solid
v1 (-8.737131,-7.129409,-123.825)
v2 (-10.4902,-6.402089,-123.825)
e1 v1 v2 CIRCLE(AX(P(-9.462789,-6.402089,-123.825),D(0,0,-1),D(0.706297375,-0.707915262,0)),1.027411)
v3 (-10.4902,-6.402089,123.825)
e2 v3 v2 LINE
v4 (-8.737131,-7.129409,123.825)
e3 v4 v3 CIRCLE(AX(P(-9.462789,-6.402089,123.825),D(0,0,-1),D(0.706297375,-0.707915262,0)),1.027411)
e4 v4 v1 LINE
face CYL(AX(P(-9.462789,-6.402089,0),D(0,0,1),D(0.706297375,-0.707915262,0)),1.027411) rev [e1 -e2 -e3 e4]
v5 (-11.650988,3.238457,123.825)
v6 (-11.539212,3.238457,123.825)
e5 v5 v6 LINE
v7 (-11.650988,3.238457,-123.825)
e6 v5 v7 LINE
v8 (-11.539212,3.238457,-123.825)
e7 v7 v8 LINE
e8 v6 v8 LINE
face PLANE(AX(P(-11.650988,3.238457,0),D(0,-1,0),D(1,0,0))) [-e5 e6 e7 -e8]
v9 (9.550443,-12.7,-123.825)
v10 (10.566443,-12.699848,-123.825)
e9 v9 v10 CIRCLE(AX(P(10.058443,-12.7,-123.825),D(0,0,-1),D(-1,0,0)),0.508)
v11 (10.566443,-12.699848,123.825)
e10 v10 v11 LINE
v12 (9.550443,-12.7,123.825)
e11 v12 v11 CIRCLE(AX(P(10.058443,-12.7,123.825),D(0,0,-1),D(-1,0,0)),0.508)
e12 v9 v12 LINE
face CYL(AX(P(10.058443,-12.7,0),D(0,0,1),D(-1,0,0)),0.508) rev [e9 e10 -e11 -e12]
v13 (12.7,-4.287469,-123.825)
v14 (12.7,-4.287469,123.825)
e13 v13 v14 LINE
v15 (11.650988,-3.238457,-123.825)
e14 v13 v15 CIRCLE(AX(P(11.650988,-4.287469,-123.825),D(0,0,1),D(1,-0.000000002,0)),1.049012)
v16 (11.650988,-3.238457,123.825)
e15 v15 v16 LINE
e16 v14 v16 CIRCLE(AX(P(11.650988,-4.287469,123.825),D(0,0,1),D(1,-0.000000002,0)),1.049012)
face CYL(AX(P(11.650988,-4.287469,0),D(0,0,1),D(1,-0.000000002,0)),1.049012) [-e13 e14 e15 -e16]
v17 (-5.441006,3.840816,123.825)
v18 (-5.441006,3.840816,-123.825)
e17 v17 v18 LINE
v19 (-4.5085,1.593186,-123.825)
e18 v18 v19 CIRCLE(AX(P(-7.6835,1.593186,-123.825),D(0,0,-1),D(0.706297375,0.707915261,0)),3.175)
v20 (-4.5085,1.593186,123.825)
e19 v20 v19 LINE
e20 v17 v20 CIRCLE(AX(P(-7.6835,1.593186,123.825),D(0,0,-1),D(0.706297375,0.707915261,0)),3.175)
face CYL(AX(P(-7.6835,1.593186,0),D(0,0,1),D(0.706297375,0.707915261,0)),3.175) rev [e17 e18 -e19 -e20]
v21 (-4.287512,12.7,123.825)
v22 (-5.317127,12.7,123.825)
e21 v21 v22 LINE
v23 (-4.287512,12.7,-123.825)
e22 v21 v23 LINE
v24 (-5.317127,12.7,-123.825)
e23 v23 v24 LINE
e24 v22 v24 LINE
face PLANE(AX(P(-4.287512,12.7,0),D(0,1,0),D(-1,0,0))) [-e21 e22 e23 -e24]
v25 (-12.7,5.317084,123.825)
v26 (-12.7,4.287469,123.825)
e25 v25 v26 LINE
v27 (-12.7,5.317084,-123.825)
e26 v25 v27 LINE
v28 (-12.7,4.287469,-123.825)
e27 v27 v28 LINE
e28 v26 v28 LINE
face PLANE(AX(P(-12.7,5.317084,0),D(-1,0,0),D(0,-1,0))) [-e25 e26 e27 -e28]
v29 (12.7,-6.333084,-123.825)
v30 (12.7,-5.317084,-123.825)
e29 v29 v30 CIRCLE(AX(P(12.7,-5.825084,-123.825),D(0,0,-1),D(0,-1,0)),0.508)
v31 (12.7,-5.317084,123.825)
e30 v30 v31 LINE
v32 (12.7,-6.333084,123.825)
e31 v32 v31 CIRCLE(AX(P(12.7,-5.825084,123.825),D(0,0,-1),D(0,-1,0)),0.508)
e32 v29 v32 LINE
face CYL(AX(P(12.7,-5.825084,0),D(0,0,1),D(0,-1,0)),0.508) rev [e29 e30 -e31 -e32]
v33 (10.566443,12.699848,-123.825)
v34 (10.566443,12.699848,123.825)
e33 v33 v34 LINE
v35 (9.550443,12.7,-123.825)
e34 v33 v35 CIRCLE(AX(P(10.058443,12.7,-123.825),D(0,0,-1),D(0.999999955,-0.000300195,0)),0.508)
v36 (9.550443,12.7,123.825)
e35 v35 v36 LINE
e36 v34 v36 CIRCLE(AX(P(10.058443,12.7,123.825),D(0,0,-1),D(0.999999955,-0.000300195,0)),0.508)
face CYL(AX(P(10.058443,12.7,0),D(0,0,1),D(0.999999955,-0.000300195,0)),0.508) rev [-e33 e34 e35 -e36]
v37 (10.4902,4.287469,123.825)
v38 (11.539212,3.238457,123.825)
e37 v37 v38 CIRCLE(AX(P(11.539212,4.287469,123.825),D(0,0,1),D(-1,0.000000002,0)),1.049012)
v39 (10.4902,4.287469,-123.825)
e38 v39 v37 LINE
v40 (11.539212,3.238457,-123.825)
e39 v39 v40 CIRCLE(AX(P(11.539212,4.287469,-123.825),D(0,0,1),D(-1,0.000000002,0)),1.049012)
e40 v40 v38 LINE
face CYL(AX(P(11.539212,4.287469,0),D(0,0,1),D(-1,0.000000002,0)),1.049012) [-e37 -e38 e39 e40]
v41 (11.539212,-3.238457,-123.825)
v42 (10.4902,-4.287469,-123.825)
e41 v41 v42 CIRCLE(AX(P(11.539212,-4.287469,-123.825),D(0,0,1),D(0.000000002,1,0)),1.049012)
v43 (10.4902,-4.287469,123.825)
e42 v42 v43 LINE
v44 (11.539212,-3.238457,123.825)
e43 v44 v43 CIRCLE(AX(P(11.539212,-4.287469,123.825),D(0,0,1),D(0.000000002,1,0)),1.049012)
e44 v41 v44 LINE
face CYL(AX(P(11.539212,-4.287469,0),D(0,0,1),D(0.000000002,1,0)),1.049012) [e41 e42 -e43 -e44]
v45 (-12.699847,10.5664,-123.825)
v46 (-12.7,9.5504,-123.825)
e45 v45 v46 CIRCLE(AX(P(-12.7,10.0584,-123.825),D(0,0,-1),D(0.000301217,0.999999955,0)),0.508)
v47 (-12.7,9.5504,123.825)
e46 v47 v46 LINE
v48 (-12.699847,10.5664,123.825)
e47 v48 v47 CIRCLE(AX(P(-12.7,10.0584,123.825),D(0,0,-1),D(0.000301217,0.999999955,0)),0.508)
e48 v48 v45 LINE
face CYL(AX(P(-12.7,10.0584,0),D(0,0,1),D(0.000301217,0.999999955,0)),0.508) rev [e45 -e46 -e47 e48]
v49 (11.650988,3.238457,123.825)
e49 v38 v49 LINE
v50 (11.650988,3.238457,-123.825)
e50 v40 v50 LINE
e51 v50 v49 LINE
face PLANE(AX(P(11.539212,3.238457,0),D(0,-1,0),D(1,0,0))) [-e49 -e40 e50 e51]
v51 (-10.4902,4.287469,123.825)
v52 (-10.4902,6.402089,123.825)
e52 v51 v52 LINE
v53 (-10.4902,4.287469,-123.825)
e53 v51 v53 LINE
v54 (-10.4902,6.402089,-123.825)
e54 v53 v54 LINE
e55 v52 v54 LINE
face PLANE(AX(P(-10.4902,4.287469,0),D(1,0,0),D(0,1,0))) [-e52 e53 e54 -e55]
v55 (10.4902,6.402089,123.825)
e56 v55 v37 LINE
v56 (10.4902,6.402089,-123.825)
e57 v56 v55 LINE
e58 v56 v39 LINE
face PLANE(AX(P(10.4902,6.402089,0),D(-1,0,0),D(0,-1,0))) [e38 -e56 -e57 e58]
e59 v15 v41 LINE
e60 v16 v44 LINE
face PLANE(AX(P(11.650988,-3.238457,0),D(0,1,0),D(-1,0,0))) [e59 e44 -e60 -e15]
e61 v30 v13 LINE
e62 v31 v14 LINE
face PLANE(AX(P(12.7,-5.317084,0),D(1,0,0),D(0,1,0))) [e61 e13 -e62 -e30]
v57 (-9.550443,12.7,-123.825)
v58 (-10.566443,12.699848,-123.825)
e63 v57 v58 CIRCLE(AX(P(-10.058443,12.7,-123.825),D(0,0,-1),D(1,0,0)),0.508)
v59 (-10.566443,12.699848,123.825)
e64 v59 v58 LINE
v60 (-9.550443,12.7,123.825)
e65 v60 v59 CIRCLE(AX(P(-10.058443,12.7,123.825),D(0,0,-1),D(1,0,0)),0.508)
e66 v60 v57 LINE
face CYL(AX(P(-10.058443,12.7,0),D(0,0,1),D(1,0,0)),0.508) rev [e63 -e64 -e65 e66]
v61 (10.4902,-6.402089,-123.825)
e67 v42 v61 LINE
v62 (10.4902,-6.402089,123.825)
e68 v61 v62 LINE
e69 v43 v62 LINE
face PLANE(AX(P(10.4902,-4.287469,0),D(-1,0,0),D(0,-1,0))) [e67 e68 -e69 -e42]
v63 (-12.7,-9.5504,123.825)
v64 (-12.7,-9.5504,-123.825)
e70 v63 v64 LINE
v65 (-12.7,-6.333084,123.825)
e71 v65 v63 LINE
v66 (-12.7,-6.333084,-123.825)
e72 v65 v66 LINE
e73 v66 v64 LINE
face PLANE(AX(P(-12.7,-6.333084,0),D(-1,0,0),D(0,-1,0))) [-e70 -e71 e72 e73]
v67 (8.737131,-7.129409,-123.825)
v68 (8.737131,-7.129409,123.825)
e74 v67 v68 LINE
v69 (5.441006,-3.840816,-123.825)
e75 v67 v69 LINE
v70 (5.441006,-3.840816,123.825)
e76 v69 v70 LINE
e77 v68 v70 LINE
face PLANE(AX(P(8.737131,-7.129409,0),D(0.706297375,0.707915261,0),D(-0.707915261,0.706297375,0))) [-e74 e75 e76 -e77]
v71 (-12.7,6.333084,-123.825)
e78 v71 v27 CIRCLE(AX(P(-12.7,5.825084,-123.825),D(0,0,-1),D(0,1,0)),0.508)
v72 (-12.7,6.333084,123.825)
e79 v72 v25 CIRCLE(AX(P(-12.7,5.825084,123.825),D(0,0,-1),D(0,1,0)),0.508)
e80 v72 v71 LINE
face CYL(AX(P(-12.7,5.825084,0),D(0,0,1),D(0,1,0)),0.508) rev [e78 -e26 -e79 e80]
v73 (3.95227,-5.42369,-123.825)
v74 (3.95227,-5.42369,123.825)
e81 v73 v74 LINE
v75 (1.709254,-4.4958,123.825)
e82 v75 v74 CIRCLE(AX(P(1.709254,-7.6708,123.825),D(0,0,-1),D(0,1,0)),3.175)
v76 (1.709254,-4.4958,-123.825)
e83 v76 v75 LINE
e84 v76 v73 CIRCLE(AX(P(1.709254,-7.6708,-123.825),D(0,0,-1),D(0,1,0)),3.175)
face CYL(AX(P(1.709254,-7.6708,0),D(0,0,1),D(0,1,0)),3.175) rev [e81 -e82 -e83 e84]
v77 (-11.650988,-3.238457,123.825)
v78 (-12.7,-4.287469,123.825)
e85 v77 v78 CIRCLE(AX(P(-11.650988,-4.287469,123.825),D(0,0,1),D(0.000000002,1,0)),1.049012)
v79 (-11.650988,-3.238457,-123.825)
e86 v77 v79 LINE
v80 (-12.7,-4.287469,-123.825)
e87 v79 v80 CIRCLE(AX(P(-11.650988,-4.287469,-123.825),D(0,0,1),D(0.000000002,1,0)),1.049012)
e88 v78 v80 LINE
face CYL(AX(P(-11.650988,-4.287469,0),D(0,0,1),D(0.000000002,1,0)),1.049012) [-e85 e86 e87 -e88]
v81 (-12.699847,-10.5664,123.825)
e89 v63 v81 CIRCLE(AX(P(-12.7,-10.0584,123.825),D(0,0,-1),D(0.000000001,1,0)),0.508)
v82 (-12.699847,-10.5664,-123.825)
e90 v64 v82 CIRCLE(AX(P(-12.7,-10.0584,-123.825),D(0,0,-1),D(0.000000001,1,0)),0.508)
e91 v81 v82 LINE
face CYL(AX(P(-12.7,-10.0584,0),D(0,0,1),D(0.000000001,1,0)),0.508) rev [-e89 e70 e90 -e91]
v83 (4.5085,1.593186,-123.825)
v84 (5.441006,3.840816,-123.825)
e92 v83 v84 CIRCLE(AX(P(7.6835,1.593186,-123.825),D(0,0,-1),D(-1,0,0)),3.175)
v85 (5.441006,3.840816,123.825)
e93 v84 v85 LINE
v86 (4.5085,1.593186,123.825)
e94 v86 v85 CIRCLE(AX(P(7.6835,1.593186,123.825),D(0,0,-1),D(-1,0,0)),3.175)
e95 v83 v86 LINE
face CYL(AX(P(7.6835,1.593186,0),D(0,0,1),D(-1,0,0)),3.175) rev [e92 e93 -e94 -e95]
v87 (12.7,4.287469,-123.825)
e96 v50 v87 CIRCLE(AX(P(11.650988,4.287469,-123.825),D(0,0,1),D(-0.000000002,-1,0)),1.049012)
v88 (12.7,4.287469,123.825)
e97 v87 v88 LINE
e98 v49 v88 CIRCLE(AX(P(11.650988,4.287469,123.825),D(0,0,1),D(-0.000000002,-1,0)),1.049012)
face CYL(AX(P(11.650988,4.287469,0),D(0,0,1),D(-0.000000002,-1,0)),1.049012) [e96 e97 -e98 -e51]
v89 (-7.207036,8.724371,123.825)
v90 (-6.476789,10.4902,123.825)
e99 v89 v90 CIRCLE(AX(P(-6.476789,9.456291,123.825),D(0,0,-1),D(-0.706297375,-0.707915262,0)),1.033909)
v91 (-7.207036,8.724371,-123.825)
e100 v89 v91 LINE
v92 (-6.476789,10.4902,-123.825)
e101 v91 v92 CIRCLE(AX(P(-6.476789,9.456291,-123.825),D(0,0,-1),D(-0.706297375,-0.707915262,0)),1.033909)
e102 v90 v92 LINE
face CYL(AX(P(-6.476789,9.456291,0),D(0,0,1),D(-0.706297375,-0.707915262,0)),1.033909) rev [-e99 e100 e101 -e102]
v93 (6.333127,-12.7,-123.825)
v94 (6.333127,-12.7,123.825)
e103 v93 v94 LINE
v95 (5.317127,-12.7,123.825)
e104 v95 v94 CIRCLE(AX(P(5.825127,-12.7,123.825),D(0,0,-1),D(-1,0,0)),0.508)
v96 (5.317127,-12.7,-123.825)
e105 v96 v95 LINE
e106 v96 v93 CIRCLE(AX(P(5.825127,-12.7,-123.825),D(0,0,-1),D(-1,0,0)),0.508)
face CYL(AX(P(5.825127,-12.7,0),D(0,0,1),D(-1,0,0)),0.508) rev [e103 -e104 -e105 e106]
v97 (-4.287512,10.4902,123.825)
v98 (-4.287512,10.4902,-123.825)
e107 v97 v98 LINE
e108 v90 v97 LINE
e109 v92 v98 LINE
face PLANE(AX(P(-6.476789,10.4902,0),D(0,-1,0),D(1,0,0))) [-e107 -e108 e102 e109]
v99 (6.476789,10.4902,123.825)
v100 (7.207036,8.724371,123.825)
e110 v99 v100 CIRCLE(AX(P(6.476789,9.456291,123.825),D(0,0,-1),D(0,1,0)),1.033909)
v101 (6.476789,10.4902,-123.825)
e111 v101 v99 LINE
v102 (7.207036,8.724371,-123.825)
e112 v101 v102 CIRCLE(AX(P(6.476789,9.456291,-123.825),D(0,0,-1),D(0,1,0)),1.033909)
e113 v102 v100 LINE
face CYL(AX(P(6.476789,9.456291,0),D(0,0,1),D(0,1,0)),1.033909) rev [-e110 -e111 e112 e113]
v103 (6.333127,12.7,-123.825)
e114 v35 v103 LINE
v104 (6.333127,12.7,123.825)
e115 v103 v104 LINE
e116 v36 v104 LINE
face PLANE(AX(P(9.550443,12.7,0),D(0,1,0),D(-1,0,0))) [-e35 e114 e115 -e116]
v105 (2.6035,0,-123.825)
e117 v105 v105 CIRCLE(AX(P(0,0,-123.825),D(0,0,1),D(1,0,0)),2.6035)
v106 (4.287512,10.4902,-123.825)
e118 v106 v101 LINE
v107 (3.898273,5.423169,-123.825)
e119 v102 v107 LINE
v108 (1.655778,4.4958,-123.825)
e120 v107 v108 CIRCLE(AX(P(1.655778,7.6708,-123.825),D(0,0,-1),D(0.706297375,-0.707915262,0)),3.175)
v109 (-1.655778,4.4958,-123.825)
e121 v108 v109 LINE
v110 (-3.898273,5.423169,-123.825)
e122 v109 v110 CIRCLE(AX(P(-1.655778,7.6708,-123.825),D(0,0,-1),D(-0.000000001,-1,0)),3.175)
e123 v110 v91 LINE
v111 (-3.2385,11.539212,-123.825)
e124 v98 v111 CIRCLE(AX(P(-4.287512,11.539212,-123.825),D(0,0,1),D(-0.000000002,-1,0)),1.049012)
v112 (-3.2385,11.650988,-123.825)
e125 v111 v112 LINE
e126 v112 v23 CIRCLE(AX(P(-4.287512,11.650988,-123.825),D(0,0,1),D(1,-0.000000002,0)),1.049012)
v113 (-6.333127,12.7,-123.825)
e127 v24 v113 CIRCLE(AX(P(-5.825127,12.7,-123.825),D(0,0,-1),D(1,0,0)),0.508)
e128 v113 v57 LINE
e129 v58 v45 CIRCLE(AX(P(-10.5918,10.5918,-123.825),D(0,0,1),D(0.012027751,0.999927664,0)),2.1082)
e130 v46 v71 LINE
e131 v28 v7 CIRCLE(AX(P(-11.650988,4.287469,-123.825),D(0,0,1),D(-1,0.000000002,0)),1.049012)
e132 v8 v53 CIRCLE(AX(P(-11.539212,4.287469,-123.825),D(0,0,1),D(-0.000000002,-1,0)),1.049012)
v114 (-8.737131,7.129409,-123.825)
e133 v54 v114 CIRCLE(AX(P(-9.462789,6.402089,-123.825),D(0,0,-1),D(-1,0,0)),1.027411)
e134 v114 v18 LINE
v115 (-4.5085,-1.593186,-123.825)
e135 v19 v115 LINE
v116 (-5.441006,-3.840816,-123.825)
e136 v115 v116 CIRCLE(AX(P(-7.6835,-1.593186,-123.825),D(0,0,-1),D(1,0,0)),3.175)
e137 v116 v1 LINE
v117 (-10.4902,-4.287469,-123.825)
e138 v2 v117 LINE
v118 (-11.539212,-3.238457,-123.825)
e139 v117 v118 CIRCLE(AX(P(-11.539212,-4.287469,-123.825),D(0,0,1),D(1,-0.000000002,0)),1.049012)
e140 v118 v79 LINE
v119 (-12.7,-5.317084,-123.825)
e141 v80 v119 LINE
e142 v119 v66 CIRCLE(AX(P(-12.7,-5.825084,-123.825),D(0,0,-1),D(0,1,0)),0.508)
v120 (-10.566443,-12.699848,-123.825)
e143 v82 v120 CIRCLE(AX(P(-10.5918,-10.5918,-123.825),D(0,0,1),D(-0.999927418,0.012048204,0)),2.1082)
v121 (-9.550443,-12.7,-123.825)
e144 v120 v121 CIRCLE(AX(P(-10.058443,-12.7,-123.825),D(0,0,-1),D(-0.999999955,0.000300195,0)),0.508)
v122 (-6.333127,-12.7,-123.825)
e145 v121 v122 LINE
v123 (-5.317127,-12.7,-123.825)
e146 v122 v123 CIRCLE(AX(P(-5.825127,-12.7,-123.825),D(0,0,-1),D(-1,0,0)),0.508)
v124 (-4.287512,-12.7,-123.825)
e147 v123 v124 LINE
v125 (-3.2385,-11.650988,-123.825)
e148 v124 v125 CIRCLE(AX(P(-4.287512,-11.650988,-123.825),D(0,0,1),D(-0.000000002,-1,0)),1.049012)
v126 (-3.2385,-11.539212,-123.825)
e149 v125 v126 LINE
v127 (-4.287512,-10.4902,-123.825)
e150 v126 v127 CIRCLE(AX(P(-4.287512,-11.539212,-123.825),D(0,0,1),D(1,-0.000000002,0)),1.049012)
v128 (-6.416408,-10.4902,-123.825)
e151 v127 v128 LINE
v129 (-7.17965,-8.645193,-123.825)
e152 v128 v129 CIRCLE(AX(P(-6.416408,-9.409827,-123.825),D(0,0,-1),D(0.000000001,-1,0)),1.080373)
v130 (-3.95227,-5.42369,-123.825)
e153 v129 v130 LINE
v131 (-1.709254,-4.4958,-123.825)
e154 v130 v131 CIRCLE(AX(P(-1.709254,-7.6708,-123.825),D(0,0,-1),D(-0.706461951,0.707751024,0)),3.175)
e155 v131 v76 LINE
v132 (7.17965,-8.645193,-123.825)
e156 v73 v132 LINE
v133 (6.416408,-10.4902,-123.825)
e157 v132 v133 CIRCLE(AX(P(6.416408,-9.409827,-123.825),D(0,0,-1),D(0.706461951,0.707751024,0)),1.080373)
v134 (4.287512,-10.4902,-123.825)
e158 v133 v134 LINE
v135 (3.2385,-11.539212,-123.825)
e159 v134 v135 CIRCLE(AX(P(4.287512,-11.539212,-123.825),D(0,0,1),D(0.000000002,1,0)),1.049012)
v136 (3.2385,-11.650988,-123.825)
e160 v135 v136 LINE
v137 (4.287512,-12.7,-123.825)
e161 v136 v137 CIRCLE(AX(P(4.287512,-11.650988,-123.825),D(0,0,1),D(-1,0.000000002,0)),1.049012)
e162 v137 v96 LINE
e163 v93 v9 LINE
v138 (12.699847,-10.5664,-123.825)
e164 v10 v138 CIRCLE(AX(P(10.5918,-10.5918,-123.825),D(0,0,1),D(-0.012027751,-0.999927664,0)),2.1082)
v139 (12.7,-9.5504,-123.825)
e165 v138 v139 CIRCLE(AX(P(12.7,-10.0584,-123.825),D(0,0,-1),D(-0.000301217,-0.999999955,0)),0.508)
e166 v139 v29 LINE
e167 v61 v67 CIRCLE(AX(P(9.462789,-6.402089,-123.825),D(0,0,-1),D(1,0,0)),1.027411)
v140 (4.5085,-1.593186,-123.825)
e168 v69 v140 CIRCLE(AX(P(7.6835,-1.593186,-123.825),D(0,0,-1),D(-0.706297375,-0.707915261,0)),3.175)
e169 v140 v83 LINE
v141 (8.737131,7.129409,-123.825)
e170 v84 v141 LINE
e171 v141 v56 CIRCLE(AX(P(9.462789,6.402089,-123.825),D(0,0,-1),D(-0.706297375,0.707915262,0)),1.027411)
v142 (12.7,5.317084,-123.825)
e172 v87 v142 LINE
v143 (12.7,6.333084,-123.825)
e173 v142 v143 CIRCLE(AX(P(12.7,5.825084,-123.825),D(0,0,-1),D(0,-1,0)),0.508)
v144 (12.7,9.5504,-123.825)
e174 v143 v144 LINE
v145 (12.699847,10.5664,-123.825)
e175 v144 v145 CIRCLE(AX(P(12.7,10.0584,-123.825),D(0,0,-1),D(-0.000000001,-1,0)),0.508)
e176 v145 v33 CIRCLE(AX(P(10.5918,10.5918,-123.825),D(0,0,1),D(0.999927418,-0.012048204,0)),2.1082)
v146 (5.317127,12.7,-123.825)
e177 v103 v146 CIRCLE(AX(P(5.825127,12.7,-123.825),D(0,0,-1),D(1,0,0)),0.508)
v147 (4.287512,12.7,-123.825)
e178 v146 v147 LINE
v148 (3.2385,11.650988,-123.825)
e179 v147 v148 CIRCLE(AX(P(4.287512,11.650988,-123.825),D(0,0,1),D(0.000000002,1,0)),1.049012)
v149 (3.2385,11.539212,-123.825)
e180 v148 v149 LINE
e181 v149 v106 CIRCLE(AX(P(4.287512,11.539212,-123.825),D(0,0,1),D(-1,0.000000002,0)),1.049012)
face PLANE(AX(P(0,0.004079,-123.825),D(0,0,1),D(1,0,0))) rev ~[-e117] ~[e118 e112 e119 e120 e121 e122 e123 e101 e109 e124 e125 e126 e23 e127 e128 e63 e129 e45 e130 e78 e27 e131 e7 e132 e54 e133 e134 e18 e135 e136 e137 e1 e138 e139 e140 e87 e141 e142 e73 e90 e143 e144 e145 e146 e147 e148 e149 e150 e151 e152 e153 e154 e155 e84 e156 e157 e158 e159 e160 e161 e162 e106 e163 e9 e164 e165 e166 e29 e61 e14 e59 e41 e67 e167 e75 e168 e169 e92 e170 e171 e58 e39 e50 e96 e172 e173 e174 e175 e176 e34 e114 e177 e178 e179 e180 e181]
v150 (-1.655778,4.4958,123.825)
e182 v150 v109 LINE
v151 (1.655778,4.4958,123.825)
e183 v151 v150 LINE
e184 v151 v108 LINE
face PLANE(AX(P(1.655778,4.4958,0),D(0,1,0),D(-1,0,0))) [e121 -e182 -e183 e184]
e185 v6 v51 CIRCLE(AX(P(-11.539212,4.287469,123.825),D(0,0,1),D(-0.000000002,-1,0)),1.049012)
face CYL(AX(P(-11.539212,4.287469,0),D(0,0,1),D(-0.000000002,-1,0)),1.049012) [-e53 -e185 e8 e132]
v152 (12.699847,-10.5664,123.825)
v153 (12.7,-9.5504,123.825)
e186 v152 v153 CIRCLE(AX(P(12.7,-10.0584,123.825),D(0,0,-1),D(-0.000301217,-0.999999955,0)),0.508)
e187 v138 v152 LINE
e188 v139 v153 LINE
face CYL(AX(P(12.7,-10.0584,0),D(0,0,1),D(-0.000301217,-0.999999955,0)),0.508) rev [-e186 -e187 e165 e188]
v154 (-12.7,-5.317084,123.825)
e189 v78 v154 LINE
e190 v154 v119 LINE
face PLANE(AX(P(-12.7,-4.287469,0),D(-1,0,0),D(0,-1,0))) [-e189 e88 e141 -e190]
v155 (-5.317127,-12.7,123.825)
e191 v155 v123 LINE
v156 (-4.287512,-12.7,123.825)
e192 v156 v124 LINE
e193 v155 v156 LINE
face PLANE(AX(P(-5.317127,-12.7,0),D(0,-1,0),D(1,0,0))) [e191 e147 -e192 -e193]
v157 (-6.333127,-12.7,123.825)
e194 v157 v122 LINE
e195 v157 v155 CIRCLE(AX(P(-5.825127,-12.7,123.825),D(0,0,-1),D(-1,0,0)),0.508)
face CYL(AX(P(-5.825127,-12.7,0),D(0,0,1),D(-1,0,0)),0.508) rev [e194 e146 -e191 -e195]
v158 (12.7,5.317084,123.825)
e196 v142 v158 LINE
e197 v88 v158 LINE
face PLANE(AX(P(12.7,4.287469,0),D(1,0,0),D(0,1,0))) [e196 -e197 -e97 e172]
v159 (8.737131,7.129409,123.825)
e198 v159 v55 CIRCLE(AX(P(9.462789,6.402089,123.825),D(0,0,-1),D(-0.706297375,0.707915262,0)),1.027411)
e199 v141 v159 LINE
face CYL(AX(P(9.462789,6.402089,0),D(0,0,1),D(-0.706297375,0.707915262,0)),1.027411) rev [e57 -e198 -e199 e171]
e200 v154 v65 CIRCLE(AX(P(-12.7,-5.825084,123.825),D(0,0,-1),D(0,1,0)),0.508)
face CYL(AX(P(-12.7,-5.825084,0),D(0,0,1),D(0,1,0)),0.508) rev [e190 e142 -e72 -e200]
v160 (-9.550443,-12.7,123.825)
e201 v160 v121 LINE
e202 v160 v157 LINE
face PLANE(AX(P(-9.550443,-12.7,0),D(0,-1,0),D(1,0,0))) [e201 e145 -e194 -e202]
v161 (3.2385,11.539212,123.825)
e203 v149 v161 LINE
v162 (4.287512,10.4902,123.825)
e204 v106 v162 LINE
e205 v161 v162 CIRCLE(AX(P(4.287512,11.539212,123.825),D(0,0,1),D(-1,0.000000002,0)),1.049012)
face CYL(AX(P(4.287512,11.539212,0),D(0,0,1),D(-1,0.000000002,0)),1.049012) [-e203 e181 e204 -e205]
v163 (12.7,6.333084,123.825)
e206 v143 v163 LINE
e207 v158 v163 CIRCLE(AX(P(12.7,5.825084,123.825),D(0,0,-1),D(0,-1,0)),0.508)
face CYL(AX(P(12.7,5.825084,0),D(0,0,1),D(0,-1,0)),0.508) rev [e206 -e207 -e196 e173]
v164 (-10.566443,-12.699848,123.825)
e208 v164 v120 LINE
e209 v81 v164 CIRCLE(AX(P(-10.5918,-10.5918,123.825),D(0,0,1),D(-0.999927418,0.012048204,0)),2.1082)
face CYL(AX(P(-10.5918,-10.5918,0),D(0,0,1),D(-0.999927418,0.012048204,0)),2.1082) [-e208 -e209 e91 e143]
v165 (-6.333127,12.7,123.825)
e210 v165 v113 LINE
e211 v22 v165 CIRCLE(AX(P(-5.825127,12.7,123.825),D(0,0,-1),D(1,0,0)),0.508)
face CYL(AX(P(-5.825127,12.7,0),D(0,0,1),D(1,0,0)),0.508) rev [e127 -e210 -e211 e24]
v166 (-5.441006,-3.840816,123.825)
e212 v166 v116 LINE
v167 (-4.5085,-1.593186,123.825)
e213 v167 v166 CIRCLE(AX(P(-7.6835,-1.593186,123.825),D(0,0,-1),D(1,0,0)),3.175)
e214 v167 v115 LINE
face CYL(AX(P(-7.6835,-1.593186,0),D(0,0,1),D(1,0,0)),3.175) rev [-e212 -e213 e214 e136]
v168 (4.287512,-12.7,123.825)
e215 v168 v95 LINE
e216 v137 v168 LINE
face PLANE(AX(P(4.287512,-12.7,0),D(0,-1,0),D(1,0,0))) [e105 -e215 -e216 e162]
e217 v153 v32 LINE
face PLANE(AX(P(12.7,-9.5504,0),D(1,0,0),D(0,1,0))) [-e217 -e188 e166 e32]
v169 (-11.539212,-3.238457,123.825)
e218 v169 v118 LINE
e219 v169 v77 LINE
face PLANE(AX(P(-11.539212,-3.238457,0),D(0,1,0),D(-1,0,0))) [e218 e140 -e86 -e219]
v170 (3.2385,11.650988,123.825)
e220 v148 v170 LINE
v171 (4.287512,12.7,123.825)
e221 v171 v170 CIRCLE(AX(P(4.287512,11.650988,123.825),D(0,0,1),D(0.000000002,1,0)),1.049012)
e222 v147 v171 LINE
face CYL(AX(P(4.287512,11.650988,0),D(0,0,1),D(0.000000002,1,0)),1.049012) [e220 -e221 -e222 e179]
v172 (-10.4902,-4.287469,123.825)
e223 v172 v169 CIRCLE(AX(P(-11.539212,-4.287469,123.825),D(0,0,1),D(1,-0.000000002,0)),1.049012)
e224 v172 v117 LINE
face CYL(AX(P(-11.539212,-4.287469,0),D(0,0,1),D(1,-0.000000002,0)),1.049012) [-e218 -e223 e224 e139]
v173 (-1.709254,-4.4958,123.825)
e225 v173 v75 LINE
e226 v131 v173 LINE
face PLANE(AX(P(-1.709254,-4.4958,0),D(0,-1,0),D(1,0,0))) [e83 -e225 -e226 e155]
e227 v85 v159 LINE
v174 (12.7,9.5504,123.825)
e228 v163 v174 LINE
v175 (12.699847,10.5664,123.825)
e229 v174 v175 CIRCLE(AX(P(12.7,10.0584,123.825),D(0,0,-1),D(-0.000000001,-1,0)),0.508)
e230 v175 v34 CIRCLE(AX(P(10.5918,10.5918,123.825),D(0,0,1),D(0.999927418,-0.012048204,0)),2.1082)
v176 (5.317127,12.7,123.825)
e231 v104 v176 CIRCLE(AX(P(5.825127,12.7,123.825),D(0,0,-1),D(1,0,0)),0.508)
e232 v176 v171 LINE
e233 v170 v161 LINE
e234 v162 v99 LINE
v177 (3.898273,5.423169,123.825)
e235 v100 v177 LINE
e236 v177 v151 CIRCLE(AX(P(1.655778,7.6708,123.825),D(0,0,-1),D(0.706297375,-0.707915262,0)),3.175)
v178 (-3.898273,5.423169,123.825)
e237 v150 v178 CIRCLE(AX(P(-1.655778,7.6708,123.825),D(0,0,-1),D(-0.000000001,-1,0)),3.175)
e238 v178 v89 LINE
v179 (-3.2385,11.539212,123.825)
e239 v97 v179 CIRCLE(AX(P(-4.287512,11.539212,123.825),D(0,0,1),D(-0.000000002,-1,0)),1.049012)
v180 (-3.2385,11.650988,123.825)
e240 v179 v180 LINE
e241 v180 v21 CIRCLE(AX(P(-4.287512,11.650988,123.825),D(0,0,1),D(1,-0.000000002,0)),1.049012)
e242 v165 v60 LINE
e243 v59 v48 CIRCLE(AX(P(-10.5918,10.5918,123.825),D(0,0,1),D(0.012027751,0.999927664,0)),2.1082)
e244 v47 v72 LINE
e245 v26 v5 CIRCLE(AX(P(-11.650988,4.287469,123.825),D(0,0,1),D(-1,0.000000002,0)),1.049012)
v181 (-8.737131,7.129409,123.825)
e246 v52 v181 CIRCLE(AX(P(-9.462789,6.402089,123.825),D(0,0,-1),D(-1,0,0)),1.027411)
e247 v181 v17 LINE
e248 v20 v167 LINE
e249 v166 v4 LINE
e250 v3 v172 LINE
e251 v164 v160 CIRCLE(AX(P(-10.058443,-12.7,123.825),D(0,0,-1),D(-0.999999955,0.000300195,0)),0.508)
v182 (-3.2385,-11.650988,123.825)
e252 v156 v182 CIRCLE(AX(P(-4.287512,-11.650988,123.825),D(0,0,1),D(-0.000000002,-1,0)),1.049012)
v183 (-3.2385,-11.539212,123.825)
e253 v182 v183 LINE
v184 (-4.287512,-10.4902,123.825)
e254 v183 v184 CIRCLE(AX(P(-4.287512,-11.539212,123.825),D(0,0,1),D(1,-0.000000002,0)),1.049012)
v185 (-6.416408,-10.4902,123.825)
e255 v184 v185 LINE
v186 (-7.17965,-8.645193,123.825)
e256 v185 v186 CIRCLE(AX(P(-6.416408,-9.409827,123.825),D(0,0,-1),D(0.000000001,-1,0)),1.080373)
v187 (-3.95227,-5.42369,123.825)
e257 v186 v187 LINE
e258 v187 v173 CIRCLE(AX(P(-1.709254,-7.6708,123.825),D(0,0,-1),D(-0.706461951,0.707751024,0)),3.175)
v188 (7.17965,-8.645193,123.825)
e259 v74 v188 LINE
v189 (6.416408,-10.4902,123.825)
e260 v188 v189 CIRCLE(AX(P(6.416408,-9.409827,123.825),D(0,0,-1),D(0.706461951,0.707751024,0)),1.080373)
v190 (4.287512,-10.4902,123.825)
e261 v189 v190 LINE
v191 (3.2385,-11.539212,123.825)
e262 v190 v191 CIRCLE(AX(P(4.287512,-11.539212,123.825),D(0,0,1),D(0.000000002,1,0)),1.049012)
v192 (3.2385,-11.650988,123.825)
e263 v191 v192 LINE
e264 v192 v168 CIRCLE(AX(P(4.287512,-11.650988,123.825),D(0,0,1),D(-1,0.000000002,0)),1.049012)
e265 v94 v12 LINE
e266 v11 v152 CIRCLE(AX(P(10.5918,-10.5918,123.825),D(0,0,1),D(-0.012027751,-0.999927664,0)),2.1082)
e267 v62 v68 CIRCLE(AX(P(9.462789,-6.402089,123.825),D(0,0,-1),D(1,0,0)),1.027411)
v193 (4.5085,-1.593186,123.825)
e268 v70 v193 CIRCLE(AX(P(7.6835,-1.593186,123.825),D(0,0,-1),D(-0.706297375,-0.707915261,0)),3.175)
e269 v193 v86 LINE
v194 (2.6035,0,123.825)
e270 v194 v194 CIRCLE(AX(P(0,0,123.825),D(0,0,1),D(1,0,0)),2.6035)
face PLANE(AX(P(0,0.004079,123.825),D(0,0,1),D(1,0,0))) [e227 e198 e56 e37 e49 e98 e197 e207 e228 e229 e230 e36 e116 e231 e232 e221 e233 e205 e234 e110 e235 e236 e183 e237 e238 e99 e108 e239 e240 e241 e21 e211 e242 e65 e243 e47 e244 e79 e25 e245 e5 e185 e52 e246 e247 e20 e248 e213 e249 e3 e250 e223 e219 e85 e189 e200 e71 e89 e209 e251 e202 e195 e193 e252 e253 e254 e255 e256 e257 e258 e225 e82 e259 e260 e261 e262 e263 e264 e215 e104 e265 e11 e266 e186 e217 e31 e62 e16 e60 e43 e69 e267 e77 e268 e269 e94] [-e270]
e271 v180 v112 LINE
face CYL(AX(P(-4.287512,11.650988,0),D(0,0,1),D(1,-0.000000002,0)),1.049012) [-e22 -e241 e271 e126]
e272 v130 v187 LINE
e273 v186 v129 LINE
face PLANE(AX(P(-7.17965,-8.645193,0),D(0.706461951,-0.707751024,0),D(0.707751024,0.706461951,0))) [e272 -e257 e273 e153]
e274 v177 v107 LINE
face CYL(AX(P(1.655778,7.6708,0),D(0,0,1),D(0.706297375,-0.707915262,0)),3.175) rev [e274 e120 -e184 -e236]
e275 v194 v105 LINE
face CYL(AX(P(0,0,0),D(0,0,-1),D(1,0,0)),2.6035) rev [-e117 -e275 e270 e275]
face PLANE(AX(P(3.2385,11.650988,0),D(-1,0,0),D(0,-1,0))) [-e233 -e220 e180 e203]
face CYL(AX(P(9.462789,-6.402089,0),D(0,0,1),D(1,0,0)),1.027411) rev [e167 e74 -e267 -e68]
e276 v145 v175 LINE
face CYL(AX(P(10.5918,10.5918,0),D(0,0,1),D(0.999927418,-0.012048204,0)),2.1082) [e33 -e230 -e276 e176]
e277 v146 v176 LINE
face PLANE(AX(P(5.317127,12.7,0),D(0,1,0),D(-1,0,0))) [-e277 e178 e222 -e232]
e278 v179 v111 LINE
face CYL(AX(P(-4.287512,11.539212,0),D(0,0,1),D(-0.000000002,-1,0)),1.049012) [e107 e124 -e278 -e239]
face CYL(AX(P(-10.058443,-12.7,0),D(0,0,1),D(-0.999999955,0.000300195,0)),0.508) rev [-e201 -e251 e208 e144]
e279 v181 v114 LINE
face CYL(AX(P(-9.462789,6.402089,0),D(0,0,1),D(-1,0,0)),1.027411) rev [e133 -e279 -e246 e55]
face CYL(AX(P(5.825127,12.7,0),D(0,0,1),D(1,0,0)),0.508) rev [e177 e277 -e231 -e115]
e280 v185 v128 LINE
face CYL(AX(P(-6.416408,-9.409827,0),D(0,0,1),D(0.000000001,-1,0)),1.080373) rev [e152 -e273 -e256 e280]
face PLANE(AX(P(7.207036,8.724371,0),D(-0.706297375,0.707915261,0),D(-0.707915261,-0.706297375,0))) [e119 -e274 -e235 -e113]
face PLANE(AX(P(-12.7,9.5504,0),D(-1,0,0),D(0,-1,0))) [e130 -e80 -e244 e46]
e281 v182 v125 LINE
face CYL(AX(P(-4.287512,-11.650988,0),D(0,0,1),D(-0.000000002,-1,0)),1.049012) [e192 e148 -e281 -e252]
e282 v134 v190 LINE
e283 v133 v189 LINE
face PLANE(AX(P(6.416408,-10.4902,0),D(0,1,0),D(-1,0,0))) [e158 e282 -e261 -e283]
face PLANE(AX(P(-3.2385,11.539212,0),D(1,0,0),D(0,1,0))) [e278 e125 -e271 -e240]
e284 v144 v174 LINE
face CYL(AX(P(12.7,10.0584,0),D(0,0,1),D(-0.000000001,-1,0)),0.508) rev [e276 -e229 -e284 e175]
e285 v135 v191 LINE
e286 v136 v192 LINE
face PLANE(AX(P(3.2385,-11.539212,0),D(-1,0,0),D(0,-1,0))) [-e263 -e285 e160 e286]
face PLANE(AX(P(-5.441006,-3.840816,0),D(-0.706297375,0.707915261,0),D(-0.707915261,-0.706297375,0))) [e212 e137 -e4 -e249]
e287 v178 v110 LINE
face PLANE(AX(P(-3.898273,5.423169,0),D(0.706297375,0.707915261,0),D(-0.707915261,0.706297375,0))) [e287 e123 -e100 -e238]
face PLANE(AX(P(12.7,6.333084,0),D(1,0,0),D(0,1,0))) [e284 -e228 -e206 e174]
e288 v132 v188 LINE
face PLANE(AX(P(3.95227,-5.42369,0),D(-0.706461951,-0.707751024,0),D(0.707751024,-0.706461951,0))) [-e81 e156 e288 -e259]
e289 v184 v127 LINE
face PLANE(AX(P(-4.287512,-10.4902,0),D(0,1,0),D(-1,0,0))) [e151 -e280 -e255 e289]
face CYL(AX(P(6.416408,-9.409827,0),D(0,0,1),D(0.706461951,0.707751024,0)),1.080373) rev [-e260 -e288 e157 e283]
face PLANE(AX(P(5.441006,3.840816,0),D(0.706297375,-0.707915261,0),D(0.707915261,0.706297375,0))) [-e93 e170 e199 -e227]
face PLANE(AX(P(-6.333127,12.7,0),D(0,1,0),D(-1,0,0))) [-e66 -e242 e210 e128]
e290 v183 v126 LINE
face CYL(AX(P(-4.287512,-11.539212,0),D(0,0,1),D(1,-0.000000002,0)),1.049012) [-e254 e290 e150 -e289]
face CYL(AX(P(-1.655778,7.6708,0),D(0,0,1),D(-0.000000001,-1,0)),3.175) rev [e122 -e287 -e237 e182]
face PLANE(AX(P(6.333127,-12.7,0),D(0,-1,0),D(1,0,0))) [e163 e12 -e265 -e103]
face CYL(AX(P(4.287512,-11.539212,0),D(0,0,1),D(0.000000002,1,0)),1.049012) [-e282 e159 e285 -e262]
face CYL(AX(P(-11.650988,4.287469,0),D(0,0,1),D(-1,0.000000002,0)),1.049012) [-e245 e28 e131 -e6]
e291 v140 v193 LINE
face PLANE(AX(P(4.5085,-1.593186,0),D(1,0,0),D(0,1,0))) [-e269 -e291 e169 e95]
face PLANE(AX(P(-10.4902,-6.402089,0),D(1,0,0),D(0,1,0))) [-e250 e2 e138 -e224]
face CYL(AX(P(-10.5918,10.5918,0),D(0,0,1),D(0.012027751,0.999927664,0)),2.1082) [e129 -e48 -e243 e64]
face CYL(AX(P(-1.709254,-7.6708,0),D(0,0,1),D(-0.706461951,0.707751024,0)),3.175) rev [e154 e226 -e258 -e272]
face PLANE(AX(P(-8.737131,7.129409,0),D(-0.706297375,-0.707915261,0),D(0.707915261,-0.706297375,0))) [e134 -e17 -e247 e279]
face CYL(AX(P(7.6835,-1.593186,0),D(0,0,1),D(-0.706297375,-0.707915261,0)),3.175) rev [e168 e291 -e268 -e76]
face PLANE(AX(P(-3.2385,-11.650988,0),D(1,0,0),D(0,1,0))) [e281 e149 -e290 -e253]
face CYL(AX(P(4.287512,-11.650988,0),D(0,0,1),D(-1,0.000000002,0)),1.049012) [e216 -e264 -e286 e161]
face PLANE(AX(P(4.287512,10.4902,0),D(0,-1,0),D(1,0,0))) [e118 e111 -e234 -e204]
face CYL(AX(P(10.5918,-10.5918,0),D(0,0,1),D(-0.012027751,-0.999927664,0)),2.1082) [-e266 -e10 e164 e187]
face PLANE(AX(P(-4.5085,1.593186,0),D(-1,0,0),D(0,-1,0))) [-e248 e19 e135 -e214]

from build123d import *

# Parameters (mm, degrees)
SKETCH1_R           = 2.6035
BOSS_EXTRUDE1_DEPTH = 123.825


with BuildPart() as part:
    # Sketch1 → Boss-Extrude1 (new body, symmetric)
    with BuildSketch(Plane.XY):
        with BuildLine():
            Line((-7.179650497, -8.645192506), (-3.952270251, -5.423690499))
            ThreePointArc((-3.952270251, -5.423690499), (-2.922936451, -4.736929036), (-1.709253557, -4.4958))
            Line((-1.709253557, -4.4958), (1.709253557, -4.4958))
            ThreePointArc((1.709253557, -4.4958), (2.922936451, -4.736929036), (3.952270251, -5.423690499))
            Line((3.952270251, -5.423690499), (7.179650497, -8.645192506))
            ThreePointArc((7.179650497, -8.645192506), (7.41473083, -9.822813117), (6.416408329, -10.4902))
            Line((6.416408329, -10.4902), (4.287512407, -10.4902))
            ThreePointArc((4.287512407, -10.4902), (3.54574862, -10.79744862), (3.2385, -11.539212407))
            Line((3.2385, -11.539212407), (3.2385, -11.650987593))
            ThreePointArc((3.2385, -11.650987593), (3.54574862, -12.39275138), (4.287512407, -12.7))
            Line((4.287512407, -12.7), (5.317126718, -12.7))
            ThreePointArc((5.317126718, -12.7), (5.825126718, -12.192), (6.333126718, -12.7))
            Line((6.333126718, -12.7), (9.550443118, -12.7))
            ThreePointArc((9.550443118, -12.7), (10.058366869, -12.192000006), (10.566443095, -12.699847501))
            ThreePointArc((10.566443095, -12.699847501), (12.082537762, -12.08250727), (12.699846982, -10.566399977))
            ThreePointArc((12.699846982, -10.566399977), (12.192000006, -10.058323491), (12.7, -9.5504))
            Line((12.7, -9.5504), (12.7, -6.3330836))
            ThreePointArc((12.7, -6.3330836), (12.192, -5.8250836), (12.7, -5.3170836))
            Line((12.7, -5.3170836), (12.7, -4.287469289))
            ThreePointArc((12.7, -4.287469289), (12.39275138, -3.545705502), (11.650987593, -3.238456882))
            Line((11.650987593, -3.238456882), (11.539212407, -3.238456882))
            ThreePointArc((11.539212407, -3.238456882), (10.79744862, -3.545705502), (10.4902, -4.287469289))
            Line((10.4902, -4.287469289), (10.4902, -6.402089023))
            ThreePointArc((10.4902, -6.402089023), (9.856505071, -7.351067942), (8.737131347, -7.129408934))
            Line((8.737131347, -7.129408934), (5.441005833, -3.840816462))
            ThreePointArc((5.441005833, -3.840816462), (4.750877967, -2.809883091), (4.5085, -1.593185507))
            Line((4.5085, -1.593185507), (4.5085, 1.593185507))
            ThreePointArc((4.5085, 1.593185507), (4.750877967, 2.809883091), (5.441005833, 3.840816462))
            Line((5.441005833, 3.840816462), (8.737131347, 7.129408934))
            ThreePointArc((8.737131347, 7.129408934), (9.856505071, 7.351067942), (10.4902, 6.402089023))
            Line((10.4902, 6.402089023), (10.4902, 4.287469289))
            ThreePointArc((10.4902, 4.287469289), (10.79744862, 3.545705502), (11.539212407, 3.238456882))
            Line((11.539212407, 3.238456882), (11.650987593, 3.238456882))
            ThreePointArc((11.650987593, 3.238456882), (12.39275138, 3.545705502), (12.7, 4.287469289))
            Line((12.7, 4.287469289), (12.7, 5.3170836))
            ThreePointArc((12.7, 5.3170836), (12.192, 5.8250836), (12.7, 6.3330836))
            Line((12.7, 6.3330836), (12.7, 9.5504))
            ThreePointArc((12.7, 9.5504), (12.192000006, 10.058323491), (12.699846982, 10.566399977))
            ThreePointArc((12.699846982, 10.566399977), (12.082537762, 12.08250727), (10.566443095, 12.699847501))
            ThreePointArc((10.566443095, 12.699847501), (10.058366869, 12.192000006), (9.550443118, 12.7))
            Line((9.550443118, 12.7), (6.333126718, 12.7))
            ThreePointArc((6.333126718, 12.7), (5.825126718, 12.192), (5.317126718, 12.7))
            Line((5.317126718, 12.7), (4.287512407, 12.7))
            ThreePointArc((4.287512407, 12.7), (3.54574862, 12.39275138), (3.2385, 11.650987593))
            Line((3.2385, 11.650987593), (3.2385, 11.539212407))
            ThreePointArc((3.2385, 11.539212407), (3.54574862, 10.79744862), (4.287512407, 10.4902))
            Line((4.287512407, 10.4902), (6.476788598, 10.4902))
            ThreePointArc((6.476788598, 10.4902), (7.432222385, 9.85140422), (7.207036008, 8.724370562))
            Line((7.207036008, 8.724370562), (3.898272566, 5.423169045))
            ThreePointArc((3.898272566, 5.423169045), (2.869120213, 4.736787962), (1.655778399, 4.4958))
            Line((1.655778399, 4.4958), (-1.655778399, 4.4958))
            ThreePointArc((-1.655778399, 4.4958), (-2.869120213, 4.736787962), (-3.898272566, 5.423169045))
            Line((-3.898272566, 5.423169045), (-7.207036008, 8.724370562))
            ThreePointArc((-7.207036008, 8.724370562), (-7.432222385, 9.85140422), (-6.476788598, 10.4902))
            Line((-6.476788598, 10.4902), (-4.287512407, 10.4902))
            ThreePointArc((-4.287512407, 10.4902), (-3.54574862, 10.79744862), (-3.2385, 11.539212407))
            Line((-3.2385, 11.539212407), (-3.2385, 11.650987593))
            ThreePointArc((-3.2385, 11.650987593), (-3.54574862, 12.39275138), (-4.287512407, 12.7))
            Line((-4.287512407, 12.7), (-5.317126718, 12.7))
            ThreePointArc((-5.317126718, 12.7), (-5.825126718, 12.192), (-6.333126718, 12.7))
            Line((-6.333126718, 12.7), (-9.550443118, 12.7))
            ThreePointArc((-9.550443118, 12.7), (-10.058366869, 12.192000006), (-10.566443095, 12.699847501))
            ThreePointArc((-10.566443095, 12.699847501), (-12.082537762, 12.08250727), (-12.699846982, 10.566399977))
            ThreePointArc((-12.699846982, 10.566399977), (-12.192000006, 10.058323491), (-12.7, 9.5504))
            Line((-12.7, 9.5504), (-12.7, 6.3330836))
            ThreePointArc((-12.7, 6.3330836), (-12.192, 5.8250836), (-12.7, 5.3170836))
            Line((-12.7, 5.3170836), (-12.7, 4.287469289))
            ThreePointArc((-12.7, 4.287469289), (-12.39275138, 3.545705502), (-11.650987593, 3.238456882))
            Line((-11.650987593, 3.238456882), (-11.539212407, 3.238456882))
            ThreePointArc((-11.539212407, 3.238456882), (-10.79744862, 3.545705502), (-10.4902, 4.287469289))
            Line((-10.4902, 4.287469289), (-10.4902, 6.402089023))
            ThreePointArc((-10.4902, 6.402089023), (-9.856505071, 7.351067942), (-8.737131347, 7.129408934))
            Line((-8.737131347, 7.129408934), (-5.441005833, 3.840816462))
            ThreePointArc((-5.441005833, 3.840816462), (-4.750877967, 2.809883091), (-4.5085, 1.593185507))
            Line((-4.5085, 1.593185507), (-4.5085, -1.593185507))
            ThreePointArc((-4.5085, -1.593185507), (-4.750877967, -2.809883091), (-5.441005833, -3.840816462))
            Line((-5.441005833, -3.840816462), (-8.737131347, -7.129408934))
            ThreePointArc((-8.737131347, -7.129408934), (-9.856505071, -7.351067942), (-10.4902, -6.402089023))
            Line((-10.4902, -6.402089023), (-10.4902, -4.287469289))
            ThreePointArc((-10.4902, -4.287469289), (-10.79744862, -3.545705502), (-11.539212407, -3.238456882))
            Line((-11.539212407, -3.238456882), (-11.650987593, -3.238456882))
            ThreePointArc((-11.650987593, -3.238456882), (-12.39275138, -3.545705502), (-12.7, -4.287469289))
            Line((-12.7, -4.287469289), (-12.7, -5.3170836))
            ThreePointArc((-12.7, -5.3170836), (-12.192, -5.8250836), (-12.7, -6.3330836))
            Line((-12.7, -6.3330836), (-12.7, -9.5504))
            ThreePointArc((-12.7, -9.5504), (-12.192000006, -10.058323491), (-12.699846982, -10.566399977))
            ThreePointArc((-12.699846982, -10.566399977), (-12.082537762, -12.08250727), (-10.566443095, -12.699847501))
            ThreePointArc((-10.566443095, -12.699847501), (-10.058366869, -12.192000006), (-9.550443118, -12.7))
            Line((-9.550443118, -12.7), (-6.333126718, -12.7))
            ThreePointArc((-6.333126718, -12.7), (-5.825126718, -12.192), (-5.317126718, -12.7))
            Line((-5.317126718, -12.7), (-4.287512407, -12.7))
            ThreePointArc((-4.287512407, -12.7), (-3.54574862, -12.39275138), (-3.2385, -11.650987593))
            Line((-3.2385, -11.650987593), (-3.2385, -11.539212407))
            ThreePointArc((-3.2385, -11.539212407), (-3.54574862, -10.79744862), (-4.287512407, -10.4902))
            Line((-4.287512407, -10.4902), (-6.416408329, -10.4902))
            ThreePointArc((-6.416408329, -10.4902), (-7.41473083, -9.822813117), (-7.179650497, -8.645192506))
        make_face()
        Circle(SKETCH1_R, mode=Mode.SUBTRACT)
    extrude(amount=BOSS_EXTRUDE1_DEPTH, both=True)


solid = part.part
